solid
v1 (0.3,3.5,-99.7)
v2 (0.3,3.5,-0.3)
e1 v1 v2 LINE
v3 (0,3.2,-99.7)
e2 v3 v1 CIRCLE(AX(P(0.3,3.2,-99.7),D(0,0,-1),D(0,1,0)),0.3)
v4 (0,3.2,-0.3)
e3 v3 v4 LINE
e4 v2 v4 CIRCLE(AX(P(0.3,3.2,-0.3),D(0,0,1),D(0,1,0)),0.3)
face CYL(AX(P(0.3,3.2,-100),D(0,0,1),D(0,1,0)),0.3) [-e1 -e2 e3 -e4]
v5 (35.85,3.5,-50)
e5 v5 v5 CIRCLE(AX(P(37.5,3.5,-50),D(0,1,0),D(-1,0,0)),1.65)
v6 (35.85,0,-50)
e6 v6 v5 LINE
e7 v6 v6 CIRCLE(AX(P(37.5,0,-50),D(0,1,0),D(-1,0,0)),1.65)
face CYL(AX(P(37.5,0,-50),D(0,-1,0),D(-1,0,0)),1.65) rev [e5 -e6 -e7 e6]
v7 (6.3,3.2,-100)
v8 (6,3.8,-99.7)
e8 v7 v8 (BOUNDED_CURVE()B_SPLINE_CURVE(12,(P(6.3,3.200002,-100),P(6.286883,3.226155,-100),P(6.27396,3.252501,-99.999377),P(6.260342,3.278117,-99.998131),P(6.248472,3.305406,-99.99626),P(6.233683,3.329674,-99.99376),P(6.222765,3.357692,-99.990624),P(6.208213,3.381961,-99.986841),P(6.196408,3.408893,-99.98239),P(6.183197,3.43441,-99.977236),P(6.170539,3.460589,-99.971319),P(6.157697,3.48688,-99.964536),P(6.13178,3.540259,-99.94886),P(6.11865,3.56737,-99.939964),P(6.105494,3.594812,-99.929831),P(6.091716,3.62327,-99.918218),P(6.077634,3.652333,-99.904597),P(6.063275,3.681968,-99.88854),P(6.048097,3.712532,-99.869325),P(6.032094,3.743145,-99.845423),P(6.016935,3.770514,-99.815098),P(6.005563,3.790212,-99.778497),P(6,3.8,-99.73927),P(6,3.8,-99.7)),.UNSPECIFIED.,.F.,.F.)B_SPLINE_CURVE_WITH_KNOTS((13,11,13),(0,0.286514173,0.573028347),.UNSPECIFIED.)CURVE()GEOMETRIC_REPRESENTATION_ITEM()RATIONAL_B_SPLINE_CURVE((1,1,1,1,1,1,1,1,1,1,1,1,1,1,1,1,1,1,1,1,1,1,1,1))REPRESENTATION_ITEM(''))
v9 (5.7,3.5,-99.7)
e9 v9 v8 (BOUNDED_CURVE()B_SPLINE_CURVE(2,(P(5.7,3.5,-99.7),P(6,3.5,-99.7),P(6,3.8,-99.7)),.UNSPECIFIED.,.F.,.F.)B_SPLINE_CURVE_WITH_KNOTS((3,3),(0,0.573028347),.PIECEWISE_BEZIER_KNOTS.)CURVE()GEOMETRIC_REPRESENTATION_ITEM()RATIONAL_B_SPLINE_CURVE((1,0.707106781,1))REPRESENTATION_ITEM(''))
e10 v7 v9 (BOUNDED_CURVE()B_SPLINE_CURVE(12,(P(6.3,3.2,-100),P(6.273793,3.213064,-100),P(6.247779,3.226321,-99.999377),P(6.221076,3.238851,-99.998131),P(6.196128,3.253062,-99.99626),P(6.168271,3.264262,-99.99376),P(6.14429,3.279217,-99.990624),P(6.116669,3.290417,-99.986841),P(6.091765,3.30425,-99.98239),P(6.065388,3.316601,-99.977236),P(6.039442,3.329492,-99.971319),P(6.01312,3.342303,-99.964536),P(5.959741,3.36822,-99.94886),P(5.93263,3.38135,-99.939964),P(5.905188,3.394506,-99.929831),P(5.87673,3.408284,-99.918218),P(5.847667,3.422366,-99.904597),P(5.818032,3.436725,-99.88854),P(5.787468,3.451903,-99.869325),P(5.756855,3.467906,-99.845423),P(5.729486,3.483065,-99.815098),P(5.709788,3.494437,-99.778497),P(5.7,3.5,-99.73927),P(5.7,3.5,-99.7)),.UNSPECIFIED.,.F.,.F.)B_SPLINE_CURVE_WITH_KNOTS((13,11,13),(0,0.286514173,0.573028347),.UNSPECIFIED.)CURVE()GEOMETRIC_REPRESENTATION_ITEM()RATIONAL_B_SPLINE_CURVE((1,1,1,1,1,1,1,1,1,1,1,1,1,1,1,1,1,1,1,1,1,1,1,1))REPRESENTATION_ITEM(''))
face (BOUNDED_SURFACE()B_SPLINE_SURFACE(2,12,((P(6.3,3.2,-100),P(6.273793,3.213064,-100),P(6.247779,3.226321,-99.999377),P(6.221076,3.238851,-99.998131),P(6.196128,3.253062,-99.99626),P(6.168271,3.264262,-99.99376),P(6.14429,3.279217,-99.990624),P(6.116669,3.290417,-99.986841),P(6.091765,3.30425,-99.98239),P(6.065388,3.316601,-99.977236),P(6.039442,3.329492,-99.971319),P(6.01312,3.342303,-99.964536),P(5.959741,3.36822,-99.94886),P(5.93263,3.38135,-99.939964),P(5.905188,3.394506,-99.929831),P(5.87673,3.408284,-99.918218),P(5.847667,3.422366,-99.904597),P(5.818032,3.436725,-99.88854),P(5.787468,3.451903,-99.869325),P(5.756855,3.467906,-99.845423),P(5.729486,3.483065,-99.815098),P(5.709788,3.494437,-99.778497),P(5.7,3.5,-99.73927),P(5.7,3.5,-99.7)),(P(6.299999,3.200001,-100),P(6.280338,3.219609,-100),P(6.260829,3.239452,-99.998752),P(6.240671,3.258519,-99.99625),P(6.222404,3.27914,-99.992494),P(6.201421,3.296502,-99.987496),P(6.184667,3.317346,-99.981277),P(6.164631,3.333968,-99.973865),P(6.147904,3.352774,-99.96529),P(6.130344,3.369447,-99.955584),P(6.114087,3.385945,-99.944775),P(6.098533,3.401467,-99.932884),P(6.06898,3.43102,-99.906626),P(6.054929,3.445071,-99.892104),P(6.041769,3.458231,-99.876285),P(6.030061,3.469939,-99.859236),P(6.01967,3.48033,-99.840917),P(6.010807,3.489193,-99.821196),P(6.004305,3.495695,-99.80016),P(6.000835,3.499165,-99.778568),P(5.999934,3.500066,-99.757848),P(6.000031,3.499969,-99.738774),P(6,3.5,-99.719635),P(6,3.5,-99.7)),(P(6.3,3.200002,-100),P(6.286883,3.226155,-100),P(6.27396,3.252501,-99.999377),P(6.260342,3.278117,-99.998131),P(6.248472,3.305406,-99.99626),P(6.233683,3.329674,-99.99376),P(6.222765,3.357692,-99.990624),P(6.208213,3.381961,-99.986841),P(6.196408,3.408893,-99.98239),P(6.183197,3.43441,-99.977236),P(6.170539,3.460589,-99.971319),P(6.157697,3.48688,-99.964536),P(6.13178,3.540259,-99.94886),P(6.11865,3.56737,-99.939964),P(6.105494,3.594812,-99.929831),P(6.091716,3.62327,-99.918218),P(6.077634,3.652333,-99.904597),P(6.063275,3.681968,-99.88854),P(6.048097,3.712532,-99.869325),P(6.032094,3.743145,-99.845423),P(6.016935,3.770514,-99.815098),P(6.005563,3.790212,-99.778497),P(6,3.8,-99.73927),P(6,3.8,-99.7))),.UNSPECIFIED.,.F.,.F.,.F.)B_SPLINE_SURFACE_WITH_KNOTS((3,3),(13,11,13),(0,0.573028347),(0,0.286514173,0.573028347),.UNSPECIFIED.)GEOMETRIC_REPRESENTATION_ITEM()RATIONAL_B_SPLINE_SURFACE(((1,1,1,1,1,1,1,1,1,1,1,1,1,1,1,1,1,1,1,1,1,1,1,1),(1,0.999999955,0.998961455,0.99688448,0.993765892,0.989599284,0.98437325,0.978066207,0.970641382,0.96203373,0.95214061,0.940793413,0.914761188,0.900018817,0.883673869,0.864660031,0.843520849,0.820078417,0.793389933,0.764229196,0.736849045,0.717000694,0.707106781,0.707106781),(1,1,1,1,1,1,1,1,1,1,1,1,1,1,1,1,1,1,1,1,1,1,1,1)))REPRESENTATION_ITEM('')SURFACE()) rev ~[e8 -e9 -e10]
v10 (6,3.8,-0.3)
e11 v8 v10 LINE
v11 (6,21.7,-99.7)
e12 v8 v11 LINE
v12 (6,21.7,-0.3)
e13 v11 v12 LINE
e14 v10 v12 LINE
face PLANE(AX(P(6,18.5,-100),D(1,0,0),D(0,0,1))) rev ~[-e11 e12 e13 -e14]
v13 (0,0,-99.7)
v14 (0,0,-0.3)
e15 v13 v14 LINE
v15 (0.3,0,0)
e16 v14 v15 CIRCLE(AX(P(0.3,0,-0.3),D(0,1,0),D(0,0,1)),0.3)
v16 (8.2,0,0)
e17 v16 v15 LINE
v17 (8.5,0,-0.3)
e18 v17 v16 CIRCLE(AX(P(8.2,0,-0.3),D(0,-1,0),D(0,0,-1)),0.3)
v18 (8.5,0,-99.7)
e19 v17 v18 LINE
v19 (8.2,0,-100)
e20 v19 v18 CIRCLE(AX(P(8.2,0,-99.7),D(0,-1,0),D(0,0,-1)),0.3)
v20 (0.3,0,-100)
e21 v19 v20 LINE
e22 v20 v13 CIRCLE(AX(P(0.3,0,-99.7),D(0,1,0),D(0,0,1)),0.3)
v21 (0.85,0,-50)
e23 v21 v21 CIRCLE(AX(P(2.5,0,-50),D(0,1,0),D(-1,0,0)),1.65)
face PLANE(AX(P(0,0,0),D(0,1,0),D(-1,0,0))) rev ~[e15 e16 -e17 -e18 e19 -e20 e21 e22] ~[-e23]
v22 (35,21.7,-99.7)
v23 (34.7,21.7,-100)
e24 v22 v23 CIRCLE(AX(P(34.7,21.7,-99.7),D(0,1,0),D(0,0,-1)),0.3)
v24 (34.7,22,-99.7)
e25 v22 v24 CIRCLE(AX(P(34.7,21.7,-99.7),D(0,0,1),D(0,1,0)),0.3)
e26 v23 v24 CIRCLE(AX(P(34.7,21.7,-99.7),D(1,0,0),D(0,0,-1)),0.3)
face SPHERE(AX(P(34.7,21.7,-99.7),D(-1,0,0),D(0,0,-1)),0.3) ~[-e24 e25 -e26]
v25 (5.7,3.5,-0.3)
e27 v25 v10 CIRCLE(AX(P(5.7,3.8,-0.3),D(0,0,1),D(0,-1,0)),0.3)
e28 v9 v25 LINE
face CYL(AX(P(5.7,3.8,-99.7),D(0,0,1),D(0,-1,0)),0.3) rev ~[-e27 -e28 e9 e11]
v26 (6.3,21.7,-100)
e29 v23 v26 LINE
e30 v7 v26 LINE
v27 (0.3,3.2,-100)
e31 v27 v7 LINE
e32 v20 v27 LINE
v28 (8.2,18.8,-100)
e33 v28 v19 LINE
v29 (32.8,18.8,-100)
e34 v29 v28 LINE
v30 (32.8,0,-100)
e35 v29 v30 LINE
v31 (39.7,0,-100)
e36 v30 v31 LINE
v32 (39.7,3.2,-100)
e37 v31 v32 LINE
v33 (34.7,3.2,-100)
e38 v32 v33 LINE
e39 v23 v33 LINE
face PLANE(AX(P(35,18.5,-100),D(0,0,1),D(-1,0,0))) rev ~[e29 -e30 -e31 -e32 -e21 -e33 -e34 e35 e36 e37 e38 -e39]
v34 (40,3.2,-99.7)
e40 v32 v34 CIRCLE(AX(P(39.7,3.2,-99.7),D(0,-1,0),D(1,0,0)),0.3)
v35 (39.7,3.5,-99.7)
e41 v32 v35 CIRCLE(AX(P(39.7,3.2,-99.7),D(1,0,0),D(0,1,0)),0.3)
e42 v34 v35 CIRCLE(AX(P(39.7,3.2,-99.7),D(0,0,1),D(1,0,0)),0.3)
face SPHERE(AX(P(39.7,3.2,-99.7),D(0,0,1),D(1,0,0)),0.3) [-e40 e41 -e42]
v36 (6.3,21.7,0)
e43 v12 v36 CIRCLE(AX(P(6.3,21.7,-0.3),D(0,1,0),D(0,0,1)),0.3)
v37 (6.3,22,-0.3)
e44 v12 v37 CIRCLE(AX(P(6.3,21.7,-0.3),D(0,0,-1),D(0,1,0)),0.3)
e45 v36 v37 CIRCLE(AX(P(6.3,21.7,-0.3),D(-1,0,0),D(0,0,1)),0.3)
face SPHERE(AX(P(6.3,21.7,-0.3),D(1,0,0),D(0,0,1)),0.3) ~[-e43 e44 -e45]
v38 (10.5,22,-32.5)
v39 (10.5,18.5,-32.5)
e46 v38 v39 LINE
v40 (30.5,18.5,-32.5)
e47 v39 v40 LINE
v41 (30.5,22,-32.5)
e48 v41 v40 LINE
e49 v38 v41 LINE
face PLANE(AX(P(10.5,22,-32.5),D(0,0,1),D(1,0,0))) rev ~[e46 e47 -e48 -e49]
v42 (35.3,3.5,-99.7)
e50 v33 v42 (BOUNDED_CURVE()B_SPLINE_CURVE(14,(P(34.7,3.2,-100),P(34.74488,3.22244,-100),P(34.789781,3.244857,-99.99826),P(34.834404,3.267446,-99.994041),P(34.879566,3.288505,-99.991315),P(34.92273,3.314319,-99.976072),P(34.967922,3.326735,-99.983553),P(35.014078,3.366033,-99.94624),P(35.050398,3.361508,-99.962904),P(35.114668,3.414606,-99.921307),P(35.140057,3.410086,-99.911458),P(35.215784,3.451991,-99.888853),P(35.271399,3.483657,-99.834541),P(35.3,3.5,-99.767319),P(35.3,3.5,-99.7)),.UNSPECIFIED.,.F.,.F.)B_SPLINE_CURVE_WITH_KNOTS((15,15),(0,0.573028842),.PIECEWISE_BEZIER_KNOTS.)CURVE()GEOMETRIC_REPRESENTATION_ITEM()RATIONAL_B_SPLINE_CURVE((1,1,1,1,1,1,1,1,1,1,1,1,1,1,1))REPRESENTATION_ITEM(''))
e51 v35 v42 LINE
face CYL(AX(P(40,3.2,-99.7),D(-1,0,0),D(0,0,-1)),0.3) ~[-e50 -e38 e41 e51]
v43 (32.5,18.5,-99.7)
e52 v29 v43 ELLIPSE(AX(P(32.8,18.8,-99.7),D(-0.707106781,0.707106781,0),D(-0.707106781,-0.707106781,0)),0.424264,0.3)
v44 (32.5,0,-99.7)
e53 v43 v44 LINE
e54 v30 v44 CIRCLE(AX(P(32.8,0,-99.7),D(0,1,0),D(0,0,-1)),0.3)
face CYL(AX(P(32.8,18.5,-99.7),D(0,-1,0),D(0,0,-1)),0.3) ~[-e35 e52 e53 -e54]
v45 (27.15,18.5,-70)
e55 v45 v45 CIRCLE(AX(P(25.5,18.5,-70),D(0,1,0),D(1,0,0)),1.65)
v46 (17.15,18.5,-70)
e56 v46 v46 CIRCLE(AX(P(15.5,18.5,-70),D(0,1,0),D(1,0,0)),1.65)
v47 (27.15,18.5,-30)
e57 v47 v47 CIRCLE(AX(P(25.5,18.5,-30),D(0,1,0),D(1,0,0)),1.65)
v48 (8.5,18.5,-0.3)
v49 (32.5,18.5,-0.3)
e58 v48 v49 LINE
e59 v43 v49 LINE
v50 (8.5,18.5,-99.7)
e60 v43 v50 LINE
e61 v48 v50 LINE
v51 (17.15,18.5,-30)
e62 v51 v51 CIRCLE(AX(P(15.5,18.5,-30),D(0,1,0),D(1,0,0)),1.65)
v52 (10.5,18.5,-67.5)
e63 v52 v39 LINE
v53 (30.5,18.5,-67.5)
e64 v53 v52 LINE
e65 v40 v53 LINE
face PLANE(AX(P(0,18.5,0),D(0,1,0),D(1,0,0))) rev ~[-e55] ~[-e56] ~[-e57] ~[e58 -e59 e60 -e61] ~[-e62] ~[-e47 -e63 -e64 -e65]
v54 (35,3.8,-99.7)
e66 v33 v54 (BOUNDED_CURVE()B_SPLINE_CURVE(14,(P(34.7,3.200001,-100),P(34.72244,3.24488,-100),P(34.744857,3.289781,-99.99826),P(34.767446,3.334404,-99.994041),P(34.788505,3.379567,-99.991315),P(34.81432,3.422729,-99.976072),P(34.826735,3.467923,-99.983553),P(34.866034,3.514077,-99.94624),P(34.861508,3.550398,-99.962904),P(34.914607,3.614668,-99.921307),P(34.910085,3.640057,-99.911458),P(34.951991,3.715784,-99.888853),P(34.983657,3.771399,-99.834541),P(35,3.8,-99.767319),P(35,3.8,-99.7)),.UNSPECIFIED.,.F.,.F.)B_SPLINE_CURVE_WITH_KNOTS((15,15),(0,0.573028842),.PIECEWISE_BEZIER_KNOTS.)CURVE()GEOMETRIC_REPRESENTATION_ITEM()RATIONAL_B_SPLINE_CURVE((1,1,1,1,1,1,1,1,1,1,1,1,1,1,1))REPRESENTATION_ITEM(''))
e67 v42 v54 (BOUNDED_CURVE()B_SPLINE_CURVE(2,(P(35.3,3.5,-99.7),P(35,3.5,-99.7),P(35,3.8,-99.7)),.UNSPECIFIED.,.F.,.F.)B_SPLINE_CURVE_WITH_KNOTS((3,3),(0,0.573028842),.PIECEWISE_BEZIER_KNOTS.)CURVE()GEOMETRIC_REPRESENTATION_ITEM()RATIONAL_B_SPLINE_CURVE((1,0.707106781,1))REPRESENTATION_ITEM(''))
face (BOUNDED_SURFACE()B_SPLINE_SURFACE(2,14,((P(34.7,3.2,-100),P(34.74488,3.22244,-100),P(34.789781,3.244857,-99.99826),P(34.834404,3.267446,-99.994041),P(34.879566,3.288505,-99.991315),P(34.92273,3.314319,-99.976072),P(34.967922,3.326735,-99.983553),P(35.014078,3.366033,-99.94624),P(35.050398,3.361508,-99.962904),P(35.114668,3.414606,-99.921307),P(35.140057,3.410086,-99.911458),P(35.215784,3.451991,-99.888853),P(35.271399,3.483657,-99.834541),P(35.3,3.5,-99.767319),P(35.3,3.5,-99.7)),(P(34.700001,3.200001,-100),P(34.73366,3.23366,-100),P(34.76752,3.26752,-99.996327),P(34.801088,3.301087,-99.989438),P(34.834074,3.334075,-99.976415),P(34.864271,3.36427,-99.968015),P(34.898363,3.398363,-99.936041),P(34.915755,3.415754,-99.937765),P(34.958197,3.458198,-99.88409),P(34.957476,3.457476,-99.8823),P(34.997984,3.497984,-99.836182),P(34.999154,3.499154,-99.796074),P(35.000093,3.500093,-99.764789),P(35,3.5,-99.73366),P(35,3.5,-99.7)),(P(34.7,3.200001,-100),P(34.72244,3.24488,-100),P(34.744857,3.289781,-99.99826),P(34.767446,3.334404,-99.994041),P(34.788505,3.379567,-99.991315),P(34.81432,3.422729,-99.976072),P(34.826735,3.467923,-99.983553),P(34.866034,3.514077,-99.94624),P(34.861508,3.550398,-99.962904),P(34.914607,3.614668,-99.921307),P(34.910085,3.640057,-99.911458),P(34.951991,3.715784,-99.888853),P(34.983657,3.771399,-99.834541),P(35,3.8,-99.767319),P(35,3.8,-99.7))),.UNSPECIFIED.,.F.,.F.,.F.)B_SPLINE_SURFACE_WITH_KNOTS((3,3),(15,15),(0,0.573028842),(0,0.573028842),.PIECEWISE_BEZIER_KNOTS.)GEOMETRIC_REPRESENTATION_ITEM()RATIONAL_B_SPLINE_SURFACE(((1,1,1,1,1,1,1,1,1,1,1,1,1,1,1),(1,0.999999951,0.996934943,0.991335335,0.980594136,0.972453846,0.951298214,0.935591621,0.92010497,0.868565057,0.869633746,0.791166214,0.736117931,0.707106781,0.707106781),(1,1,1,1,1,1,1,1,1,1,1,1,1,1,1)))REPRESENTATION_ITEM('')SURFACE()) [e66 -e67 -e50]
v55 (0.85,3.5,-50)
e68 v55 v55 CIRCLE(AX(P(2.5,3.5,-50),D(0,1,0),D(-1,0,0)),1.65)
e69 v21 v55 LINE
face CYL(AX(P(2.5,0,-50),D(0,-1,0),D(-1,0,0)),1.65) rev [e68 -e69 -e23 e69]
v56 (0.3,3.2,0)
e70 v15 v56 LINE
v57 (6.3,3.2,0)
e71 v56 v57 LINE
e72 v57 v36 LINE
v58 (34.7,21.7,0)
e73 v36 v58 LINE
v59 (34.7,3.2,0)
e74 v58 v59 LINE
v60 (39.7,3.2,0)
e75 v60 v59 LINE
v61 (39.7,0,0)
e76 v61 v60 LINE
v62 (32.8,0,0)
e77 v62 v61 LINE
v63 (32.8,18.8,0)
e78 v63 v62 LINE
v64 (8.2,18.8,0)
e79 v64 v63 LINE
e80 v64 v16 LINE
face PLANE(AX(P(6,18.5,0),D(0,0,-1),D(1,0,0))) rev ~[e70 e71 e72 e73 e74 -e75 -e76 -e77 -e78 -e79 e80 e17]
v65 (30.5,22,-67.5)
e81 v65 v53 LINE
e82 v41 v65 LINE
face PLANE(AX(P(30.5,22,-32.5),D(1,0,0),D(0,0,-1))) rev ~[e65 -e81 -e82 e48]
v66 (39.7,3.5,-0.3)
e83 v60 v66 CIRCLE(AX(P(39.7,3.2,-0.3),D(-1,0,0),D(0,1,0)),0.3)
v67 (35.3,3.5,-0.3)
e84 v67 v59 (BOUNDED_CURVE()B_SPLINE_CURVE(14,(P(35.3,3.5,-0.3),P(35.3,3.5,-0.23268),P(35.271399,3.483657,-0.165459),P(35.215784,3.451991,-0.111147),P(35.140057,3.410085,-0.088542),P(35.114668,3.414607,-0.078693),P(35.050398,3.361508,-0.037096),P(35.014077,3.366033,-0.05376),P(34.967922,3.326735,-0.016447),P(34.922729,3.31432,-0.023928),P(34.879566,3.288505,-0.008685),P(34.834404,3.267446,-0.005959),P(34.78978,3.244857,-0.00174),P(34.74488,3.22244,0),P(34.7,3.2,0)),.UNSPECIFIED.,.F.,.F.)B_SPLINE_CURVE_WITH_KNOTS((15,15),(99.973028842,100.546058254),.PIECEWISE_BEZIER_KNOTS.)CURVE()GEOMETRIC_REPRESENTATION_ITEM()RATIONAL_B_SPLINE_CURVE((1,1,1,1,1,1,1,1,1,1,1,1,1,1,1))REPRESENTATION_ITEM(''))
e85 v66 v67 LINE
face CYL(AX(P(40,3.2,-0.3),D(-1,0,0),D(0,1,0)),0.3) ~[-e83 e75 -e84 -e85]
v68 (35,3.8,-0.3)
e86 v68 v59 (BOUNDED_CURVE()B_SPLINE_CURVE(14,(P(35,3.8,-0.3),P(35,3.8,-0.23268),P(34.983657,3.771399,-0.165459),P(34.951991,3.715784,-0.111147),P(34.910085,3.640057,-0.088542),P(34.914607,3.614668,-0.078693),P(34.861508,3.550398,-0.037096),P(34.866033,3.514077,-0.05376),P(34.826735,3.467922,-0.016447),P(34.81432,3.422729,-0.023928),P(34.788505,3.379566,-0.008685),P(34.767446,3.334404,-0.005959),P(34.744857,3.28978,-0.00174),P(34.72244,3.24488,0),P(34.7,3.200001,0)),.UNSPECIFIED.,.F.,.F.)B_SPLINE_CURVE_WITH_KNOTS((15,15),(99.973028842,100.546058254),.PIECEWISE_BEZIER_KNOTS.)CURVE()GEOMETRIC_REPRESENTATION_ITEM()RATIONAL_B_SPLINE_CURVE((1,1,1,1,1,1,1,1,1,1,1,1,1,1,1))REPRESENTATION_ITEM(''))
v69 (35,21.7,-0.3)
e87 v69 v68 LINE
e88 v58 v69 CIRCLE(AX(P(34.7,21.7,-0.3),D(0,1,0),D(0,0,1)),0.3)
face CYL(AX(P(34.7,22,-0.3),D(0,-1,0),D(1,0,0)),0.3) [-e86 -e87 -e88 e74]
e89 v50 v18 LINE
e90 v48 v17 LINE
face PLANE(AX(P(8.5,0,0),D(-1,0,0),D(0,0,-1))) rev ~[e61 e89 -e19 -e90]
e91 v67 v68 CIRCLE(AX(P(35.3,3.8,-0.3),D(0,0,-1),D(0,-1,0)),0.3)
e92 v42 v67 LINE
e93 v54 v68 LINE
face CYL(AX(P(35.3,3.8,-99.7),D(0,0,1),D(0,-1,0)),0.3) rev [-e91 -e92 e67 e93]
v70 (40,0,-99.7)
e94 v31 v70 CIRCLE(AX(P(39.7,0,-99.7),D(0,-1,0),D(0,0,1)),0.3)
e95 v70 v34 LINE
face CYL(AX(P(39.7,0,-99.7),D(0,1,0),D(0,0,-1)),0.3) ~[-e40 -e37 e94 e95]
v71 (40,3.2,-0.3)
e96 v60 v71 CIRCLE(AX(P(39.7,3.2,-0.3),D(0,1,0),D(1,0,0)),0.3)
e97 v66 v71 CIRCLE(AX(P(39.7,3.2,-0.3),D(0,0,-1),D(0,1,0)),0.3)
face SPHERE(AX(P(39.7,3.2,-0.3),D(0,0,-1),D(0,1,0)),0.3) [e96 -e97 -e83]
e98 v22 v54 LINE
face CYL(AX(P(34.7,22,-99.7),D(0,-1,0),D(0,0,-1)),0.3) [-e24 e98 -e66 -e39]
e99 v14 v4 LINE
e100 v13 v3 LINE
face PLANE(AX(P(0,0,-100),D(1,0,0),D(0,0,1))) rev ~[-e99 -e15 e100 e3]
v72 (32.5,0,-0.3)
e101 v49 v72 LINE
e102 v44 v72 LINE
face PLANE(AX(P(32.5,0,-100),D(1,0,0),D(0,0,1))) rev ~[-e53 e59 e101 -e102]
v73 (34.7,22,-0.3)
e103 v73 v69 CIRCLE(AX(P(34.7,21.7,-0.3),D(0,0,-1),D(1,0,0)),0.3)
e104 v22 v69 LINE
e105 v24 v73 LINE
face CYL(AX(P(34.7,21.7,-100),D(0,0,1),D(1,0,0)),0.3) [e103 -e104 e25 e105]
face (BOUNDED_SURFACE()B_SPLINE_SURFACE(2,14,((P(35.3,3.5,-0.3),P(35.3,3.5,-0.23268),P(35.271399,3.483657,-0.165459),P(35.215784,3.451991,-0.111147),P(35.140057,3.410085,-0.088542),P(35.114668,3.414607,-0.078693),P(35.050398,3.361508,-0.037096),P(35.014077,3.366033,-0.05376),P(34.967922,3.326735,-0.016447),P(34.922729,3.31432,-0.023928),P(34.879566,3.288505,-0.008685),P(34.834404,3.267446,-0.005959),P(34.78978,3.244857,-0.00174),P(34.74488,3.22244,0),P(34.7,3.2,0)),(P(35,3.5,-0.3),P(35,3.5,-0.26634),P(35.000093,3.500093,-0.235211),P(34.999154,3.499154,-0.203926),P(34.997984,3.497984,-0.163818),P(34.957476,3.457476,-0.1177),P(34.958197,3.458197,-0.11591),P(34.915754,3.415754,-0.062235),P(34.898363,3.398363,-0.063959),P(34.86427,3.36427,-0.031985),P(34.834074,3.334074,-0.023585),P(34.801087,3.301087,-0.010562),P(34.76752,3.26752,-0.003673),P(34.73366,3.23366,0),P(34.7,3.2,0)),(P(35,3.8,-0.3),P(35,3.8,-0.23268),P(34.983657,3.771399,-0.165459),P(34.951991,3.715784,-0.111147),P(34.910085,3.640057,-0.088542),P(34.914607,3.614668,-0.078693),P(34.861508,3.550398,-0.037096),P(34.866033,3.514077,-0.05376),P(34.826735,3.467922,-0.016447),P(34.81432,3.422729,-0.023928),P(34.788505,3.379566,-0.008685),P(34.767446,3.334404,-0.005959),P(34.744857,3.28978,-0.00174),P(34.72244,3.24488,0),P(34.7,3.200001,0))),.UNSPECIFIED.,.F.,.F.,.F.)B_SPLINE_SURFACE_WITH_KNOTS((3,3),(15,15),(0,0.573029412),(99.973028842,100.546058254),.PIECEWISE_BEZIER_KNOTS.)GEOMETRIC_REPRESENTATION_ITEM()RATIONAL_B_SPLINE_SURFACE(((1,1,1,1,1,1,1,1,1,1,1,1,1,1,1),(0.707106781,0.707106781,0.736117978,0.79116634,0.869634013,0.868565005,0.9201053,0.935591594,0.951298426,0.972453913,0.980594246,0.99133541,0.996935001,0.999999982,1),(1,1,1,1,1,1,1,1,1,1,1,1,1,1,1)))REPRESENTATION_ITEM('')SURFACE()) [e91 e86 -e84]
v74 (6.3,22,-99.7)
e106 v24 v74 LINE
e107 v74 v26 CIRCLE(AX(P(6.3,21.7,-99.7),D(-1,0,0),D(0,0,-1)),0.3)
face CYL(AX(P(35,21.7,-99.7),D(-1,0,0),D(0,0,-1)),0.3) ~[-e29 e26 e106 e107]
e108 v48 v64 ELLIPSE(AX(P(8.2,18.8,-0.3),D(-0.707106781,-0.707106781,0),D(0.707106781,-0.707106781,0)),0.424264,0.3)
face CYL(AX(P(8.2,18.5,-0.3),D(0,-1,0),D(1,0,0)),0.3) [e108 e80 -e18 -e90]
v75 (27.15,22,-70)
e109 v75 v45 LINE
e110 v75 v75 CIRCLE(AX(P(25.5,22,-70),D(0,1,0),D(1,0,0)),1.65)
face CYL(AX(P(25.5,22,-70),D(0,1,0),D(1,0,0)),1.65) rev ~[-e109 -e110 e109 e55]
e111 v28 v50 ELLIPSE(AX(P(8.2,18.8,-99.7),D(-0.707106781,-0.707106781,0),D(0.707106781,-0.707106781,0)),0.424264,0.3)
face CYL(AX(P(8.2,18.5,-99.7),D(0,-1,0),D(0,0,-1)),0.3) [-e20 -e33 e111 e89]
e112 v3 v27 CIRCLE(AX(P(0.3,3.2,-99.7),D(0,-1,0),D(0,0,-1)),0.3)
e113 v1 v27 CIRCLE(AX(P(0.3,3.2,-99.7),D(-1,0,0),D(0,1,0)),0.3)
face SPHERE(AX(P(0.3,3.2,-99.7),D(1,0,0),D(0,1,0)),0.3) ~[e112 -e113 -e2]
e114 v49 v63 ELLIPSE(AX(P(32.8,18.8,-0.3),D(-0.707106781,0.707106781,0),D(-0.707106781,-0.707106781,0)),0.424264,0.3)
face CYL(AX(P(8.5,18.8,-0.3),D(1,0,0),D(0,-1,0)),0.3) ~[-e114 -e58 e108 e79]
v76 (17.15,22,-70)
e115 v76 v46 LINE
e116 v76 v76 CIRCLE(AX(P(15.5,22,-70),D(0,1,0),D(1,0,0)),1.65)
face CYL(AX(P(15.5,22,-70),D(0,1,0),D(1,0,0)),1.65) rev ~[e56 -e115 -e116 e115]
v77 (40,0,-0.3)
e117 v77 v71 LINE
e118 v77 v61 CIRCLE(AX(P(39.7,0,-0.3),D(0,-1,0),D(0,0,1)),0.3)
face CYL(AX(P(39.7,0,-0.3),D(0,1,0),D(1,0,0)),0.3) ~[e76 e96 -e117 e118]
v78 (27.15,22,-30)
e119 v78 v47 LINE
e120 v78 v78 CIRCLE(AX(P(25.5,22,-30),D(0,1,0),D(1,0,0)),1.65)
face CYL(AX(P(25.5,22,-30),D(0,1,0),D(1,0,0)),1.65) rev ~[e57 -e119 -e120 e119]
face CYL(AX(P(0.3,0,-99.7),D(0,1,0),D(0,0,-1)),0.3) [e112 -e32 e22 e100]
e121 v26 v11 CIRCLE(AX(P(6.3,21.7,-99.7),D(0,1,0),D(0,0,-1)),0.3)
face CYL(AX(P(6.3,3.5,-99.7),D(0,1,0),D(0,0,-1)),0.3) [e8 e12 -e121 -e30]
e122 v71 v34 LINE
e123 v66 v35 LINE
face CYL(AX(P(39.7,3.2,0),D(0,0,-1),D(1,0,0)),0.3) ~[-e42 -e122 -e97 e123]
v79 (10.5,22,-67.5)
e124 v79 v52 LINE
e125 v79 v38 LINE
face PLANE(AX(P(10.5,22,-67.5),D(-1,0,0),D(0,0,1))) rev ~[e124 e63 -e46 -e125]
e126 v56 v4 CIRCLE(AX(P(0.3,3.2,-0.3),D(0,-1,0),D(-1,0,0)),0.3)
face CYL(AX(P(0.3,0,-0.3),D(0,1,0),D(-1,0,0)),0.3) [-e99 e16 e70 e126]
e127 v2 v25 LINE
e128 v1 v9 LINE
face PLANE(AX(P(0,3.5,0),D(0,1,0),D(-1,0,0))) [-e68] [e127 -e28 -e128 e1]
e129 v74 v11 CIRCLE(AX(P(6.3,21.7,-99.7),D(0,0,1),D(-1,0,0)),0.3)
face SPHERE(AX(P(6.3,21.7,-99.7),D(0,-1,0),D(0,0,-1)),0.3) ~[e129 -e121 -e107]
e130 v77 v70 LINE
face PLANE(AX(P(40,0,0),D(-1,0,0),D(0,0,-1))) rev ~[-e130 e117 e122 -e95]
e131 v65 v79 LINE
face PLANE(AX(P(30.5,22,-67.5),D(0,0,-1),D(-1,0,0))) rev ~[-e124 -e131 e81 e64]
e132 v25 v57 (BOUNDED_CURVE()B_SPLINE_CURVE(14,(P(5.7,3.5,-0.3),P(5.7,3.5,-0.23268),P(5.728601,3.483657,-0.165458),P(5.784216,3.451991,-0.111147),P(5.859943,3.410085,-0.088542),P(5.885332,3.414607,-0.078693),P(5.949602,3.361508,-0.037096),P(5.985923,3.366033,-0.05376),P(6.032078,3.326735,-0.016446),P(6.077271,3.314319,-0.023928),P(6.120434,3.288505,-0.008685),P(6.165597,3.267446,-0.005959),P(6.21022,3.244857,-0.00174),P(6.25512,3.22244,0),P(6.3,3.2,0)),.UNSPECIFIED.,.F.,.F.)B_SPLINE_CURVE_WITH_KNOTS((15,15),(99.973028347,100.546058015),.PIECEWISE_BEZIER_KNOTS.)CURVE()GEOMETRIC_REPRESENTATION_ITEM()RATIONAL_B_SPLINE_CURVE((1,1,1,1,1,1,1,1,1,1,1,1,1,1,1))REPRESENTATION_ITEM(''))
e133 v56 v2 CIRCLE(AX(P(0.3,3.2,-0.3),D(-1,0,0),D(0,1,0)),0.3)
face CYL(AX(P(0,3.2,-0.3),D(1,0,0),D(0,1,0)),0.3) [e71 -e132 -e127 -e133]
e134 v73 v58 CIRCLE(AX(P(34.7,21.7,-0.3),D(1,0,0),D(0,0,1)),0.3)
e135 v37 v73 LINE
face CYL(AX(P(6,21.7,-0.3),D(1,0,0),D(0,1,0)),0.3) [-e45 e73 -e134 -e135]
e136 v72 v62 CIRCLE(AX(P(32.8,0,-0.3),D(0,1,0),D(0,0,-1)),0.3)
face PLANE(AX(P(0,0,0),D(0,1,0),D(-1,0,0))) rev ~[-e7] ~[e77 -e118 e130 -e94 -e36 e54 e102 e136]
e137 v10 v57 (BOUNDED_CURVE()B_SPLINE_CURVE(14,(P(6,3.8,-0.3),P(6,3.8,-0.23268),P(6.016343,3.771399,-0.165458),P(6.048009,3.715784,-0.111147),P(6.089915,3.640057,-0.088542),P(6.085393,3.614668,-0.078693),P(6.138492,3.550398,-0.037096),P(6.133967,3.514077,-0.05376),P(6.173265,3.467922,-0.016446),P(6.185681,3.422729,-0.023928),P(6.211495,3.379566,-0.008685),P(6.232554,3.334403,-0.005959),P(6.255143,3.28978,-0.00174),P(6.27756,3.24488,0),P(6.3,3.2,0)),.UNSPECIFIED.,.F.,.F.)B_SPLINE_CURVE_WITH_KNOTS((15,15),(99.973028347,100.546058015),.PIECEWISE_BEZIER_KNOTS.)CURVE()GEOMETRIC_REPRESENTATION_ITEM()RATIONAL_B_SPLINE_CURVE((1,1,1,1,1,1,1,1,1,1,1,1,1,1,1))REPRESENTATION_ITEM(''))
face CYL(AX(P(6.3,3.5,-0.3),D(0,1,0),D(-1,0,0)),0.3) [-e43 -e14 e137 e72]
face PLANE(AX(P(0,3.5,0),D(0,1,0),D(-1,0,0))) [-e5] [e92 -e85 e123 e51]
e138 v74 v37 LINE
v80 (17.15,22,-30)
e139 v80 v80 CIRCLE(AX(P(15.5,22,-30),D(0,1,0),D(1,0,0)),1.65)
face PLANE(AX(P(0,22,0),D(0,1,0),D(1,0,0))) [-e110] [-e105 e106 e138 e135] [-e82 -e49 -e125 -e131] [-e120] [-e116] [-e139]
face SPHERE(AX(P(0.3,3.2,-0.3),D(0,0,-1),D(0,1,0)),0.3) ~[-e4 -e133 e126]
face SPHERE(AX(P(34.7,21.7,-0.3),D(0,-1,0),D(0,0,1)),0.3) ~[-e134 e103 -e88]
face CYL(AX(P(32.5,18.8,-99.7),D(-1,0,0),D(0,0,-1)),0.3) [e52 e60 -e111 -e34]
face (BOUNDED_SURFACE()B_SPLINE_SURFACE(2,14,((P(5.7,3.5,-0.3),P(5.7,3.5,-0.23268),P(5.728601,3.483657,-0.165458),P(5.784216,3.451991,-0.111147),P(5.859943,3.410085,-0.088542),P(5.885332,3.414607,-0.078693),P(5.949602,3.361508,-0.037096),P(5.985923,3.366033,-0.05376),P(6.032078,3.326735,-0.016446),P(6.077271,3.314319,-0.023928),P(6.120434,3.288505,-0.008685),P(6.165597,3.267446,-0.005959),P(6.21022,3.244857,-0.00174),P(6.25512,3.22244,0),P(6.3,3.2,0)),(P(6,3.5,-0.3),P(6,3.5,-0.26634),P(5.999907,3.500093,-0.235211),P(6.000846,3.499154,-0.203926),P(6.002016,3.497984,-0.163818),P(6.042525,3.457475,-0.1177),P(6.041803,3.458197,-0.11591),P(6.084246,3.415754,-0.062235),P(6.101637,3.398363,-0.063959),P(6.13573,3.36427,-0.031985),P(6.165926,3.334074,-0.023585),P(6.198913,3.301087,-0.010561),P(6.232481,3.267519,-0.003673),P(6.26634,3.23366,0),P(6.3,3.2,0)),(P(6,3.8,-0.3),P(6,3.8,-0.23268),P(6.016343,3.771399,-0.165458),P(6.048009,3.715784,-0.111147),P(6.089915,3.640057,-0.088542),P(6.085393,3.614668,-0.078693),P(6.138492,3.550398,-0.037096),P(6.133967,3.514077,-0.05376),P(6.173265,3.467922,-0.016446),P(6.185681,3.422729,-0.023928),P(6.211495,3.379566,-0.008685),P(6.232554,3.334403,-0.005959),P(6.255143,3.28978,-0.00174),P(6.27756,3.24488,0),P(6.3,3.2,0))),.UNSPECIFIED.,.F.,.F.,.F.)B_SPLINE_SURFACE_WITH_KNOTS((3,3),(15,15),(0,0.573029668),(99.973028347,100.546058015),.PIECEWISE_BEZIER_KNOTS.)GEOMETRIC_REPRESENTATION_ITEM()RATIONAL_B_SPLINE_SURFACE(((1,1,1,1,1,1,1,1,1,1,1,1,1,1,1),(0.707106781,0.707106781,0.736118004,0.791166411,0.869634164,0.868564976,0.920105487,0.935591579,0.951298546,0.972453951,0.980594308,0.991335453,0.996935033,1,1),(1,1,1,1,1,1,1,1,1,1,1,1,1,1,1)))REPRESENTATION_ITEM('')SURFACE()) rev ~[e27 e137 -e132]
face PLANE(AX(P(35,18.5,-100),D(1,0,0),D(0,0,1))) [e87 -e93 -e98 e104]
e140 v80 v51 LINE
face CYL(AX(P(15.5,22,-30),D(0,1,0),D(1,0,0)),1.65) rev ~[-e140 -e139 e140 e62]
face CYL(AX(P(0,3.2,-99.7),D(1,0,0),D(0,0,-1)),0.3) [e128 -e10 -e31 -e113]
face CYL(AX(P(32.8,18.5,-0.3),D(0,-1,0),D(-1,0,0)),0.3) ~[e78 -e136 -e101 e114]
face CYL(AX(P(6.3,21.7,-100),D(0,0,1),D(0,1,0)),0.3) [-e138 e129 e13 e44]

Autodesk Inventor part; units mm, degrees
ref_plane "YZ Plane" through (0, 0, 0) normal (1, 0, 0) x (0, 1, 0)
ref_plane "XZ Plane" through (0, 0, 0) normal (0, 1, 0) x (-1, 0, 0)
ref_plane "XY Plane" through (0, 0, 0) normal (0, 0, 1) x (1, 0, 0)
sketch "Sketch1" plane through (0, 0, 0) normal (0, 1, 0) x (-1, 0, 0)
  line L0 (-40, 0) -> (-40, -100)
  line L1 (0, -100) -> (0, 0)
  line L2 (-35, 0) -> (-35, -100)
  line L3 (-6, -100) -> (-6, 0)
  circle A0 centre (-2.5, -50) radius 1.65
  circle A1 centre (-37.5, -50) radius 1.65
  line L4 (0, 0) -> (-8.5, 0)
  line L5 (-32.5, 0) -> (-40, 0)
  line L6 (-40, -100) -> (-32.5, -100)
  line L7 (-8.5, -100) -> (0, -100)
  line L8 (-8.5, 0) -> (-8.5, -100)
  line L9 (-32.5, -100) -> (-32.5, 0)
  dimension "d4" = 3.3
  dimension "d5" = 3.3
  dimension "d8" = 2.5
  dimension "d9" = 2.5
extrude "Extrusion1" add sketch "Sketch1" along normal blind 3.5
sketch "Sketch2" plane through (0, 3.5, 0) normal (0, 1, 0) x (1, 0, 0)
  line L0 (8.5, 100) -> (0, 100) projected
  line L1 (8.5, 100) -> (6, 100)
  line L2 (6, 100) -> (6, 0)
  line L3 (6, 0) -> (8.5, 0)
  line L4 (8.5, 0) -> (8.5, 100)
  line L5 (32.5, 100) -> (32.5, 0) projected
  line L6 (32.5, 100) -> (35, 100)
  line L7 (35, 100) -> (35, 0)
  line L8 (35, 0) -> (32.5, 0)
  line L9 (32.5, 0) -> (32.5, 100)
  point P0 (0, 0)
  point P1 (32.5, 0)
  point P2 (6, 100)
  dimension "d10" = 2.5
  dimension "d11" = 100
  dimension "d12" = 2.5
  dimension "d13" = 100
extrude "Extrusion2" add sketch "Sketch2" along normal blind 15
sketch "Sketch3" plane through (0, 18.5, 0) normal (0, 1, 0) x (1, 0, 0)
  line L0 (6, 100) -> (6, 0) projected
  line L1 (35, 100) -> (35, 0) projected
  line L2 (6, 0) -> (35, 0)
  line L3 (35, 0) -> (35, 100)
  line L4 (35, 100) -> (6, 100)
  line L5 (6, 100) -> (6, 0)
  point P0 (0, 0)
  point P1 (35, 0)
  point P2 (6, 100)
extrude "Extrusion3" add sketch "Sketch3" along normal blind 3.5
sketch "Sketch4" plane through (0, 22, 0) normal (0, 1, 0) x (1, 0, 0)
  circle A0 centre (15.5, 70) radius 1.65
  circle A1 centre (25.5, 70) radius 1.65
  circle A2 centre (15.5, 30) radius 1.65
  circle A3 centre (25.5, 30) radius 1.65
  line L0 (30.5, 67.5) -> (10.5, 67.5)
  line L1 (10.5, 67.5) -> (10.5, 32.5)
  line L2 (10.5, 32.5) -> (30.5, 32.5)
  line L3 (30.5, 32.5) -> (30.5, 67.5)
  dimension "d36" = 20
  dimension "d37" = 35
extrude "Extrusion4" cut sketch "Sketch4" against normal blind 3.5
fillet "Fillet1" radius 0.3 24 edges at (6, 12.75, -100) (3, 3.5, -100) (20.5, 22, -100) (8.5, 9.25, -100) (20.5, 18.5, -100) (35, 12.75, -100) (32.5, 9.25, -100) (32.5, 9.25, 0) (35, 12.75, 0) (20.5, 22, 0) (20.5, 18.5, 0) (8.5, 9.25, 0) (6, 12.75, 0) (6, 22, -50) (35, 22, -50) (0, 3.5, -50) (40, 3.5, -50) (37.5, 3.5, 0) (3, 3.5, 0) (0, 1.75, 0) (40, 1.75, 0) (40, 1.75, -100) (37.5, 3.5, -100) (0, 1.75, -100)
fillet "Fillet2" radius 0.3 6 edges at (6.0879, 3.4121, -99.9121) (6.0879, 3.4121, -0.0879) (6, 3.5, -50) (34.9121, 3.4121, -0.0879) (34.9121, 3.4121, -99.9121) (35, 3.5, -50)
properties part number "controllerHousing"
